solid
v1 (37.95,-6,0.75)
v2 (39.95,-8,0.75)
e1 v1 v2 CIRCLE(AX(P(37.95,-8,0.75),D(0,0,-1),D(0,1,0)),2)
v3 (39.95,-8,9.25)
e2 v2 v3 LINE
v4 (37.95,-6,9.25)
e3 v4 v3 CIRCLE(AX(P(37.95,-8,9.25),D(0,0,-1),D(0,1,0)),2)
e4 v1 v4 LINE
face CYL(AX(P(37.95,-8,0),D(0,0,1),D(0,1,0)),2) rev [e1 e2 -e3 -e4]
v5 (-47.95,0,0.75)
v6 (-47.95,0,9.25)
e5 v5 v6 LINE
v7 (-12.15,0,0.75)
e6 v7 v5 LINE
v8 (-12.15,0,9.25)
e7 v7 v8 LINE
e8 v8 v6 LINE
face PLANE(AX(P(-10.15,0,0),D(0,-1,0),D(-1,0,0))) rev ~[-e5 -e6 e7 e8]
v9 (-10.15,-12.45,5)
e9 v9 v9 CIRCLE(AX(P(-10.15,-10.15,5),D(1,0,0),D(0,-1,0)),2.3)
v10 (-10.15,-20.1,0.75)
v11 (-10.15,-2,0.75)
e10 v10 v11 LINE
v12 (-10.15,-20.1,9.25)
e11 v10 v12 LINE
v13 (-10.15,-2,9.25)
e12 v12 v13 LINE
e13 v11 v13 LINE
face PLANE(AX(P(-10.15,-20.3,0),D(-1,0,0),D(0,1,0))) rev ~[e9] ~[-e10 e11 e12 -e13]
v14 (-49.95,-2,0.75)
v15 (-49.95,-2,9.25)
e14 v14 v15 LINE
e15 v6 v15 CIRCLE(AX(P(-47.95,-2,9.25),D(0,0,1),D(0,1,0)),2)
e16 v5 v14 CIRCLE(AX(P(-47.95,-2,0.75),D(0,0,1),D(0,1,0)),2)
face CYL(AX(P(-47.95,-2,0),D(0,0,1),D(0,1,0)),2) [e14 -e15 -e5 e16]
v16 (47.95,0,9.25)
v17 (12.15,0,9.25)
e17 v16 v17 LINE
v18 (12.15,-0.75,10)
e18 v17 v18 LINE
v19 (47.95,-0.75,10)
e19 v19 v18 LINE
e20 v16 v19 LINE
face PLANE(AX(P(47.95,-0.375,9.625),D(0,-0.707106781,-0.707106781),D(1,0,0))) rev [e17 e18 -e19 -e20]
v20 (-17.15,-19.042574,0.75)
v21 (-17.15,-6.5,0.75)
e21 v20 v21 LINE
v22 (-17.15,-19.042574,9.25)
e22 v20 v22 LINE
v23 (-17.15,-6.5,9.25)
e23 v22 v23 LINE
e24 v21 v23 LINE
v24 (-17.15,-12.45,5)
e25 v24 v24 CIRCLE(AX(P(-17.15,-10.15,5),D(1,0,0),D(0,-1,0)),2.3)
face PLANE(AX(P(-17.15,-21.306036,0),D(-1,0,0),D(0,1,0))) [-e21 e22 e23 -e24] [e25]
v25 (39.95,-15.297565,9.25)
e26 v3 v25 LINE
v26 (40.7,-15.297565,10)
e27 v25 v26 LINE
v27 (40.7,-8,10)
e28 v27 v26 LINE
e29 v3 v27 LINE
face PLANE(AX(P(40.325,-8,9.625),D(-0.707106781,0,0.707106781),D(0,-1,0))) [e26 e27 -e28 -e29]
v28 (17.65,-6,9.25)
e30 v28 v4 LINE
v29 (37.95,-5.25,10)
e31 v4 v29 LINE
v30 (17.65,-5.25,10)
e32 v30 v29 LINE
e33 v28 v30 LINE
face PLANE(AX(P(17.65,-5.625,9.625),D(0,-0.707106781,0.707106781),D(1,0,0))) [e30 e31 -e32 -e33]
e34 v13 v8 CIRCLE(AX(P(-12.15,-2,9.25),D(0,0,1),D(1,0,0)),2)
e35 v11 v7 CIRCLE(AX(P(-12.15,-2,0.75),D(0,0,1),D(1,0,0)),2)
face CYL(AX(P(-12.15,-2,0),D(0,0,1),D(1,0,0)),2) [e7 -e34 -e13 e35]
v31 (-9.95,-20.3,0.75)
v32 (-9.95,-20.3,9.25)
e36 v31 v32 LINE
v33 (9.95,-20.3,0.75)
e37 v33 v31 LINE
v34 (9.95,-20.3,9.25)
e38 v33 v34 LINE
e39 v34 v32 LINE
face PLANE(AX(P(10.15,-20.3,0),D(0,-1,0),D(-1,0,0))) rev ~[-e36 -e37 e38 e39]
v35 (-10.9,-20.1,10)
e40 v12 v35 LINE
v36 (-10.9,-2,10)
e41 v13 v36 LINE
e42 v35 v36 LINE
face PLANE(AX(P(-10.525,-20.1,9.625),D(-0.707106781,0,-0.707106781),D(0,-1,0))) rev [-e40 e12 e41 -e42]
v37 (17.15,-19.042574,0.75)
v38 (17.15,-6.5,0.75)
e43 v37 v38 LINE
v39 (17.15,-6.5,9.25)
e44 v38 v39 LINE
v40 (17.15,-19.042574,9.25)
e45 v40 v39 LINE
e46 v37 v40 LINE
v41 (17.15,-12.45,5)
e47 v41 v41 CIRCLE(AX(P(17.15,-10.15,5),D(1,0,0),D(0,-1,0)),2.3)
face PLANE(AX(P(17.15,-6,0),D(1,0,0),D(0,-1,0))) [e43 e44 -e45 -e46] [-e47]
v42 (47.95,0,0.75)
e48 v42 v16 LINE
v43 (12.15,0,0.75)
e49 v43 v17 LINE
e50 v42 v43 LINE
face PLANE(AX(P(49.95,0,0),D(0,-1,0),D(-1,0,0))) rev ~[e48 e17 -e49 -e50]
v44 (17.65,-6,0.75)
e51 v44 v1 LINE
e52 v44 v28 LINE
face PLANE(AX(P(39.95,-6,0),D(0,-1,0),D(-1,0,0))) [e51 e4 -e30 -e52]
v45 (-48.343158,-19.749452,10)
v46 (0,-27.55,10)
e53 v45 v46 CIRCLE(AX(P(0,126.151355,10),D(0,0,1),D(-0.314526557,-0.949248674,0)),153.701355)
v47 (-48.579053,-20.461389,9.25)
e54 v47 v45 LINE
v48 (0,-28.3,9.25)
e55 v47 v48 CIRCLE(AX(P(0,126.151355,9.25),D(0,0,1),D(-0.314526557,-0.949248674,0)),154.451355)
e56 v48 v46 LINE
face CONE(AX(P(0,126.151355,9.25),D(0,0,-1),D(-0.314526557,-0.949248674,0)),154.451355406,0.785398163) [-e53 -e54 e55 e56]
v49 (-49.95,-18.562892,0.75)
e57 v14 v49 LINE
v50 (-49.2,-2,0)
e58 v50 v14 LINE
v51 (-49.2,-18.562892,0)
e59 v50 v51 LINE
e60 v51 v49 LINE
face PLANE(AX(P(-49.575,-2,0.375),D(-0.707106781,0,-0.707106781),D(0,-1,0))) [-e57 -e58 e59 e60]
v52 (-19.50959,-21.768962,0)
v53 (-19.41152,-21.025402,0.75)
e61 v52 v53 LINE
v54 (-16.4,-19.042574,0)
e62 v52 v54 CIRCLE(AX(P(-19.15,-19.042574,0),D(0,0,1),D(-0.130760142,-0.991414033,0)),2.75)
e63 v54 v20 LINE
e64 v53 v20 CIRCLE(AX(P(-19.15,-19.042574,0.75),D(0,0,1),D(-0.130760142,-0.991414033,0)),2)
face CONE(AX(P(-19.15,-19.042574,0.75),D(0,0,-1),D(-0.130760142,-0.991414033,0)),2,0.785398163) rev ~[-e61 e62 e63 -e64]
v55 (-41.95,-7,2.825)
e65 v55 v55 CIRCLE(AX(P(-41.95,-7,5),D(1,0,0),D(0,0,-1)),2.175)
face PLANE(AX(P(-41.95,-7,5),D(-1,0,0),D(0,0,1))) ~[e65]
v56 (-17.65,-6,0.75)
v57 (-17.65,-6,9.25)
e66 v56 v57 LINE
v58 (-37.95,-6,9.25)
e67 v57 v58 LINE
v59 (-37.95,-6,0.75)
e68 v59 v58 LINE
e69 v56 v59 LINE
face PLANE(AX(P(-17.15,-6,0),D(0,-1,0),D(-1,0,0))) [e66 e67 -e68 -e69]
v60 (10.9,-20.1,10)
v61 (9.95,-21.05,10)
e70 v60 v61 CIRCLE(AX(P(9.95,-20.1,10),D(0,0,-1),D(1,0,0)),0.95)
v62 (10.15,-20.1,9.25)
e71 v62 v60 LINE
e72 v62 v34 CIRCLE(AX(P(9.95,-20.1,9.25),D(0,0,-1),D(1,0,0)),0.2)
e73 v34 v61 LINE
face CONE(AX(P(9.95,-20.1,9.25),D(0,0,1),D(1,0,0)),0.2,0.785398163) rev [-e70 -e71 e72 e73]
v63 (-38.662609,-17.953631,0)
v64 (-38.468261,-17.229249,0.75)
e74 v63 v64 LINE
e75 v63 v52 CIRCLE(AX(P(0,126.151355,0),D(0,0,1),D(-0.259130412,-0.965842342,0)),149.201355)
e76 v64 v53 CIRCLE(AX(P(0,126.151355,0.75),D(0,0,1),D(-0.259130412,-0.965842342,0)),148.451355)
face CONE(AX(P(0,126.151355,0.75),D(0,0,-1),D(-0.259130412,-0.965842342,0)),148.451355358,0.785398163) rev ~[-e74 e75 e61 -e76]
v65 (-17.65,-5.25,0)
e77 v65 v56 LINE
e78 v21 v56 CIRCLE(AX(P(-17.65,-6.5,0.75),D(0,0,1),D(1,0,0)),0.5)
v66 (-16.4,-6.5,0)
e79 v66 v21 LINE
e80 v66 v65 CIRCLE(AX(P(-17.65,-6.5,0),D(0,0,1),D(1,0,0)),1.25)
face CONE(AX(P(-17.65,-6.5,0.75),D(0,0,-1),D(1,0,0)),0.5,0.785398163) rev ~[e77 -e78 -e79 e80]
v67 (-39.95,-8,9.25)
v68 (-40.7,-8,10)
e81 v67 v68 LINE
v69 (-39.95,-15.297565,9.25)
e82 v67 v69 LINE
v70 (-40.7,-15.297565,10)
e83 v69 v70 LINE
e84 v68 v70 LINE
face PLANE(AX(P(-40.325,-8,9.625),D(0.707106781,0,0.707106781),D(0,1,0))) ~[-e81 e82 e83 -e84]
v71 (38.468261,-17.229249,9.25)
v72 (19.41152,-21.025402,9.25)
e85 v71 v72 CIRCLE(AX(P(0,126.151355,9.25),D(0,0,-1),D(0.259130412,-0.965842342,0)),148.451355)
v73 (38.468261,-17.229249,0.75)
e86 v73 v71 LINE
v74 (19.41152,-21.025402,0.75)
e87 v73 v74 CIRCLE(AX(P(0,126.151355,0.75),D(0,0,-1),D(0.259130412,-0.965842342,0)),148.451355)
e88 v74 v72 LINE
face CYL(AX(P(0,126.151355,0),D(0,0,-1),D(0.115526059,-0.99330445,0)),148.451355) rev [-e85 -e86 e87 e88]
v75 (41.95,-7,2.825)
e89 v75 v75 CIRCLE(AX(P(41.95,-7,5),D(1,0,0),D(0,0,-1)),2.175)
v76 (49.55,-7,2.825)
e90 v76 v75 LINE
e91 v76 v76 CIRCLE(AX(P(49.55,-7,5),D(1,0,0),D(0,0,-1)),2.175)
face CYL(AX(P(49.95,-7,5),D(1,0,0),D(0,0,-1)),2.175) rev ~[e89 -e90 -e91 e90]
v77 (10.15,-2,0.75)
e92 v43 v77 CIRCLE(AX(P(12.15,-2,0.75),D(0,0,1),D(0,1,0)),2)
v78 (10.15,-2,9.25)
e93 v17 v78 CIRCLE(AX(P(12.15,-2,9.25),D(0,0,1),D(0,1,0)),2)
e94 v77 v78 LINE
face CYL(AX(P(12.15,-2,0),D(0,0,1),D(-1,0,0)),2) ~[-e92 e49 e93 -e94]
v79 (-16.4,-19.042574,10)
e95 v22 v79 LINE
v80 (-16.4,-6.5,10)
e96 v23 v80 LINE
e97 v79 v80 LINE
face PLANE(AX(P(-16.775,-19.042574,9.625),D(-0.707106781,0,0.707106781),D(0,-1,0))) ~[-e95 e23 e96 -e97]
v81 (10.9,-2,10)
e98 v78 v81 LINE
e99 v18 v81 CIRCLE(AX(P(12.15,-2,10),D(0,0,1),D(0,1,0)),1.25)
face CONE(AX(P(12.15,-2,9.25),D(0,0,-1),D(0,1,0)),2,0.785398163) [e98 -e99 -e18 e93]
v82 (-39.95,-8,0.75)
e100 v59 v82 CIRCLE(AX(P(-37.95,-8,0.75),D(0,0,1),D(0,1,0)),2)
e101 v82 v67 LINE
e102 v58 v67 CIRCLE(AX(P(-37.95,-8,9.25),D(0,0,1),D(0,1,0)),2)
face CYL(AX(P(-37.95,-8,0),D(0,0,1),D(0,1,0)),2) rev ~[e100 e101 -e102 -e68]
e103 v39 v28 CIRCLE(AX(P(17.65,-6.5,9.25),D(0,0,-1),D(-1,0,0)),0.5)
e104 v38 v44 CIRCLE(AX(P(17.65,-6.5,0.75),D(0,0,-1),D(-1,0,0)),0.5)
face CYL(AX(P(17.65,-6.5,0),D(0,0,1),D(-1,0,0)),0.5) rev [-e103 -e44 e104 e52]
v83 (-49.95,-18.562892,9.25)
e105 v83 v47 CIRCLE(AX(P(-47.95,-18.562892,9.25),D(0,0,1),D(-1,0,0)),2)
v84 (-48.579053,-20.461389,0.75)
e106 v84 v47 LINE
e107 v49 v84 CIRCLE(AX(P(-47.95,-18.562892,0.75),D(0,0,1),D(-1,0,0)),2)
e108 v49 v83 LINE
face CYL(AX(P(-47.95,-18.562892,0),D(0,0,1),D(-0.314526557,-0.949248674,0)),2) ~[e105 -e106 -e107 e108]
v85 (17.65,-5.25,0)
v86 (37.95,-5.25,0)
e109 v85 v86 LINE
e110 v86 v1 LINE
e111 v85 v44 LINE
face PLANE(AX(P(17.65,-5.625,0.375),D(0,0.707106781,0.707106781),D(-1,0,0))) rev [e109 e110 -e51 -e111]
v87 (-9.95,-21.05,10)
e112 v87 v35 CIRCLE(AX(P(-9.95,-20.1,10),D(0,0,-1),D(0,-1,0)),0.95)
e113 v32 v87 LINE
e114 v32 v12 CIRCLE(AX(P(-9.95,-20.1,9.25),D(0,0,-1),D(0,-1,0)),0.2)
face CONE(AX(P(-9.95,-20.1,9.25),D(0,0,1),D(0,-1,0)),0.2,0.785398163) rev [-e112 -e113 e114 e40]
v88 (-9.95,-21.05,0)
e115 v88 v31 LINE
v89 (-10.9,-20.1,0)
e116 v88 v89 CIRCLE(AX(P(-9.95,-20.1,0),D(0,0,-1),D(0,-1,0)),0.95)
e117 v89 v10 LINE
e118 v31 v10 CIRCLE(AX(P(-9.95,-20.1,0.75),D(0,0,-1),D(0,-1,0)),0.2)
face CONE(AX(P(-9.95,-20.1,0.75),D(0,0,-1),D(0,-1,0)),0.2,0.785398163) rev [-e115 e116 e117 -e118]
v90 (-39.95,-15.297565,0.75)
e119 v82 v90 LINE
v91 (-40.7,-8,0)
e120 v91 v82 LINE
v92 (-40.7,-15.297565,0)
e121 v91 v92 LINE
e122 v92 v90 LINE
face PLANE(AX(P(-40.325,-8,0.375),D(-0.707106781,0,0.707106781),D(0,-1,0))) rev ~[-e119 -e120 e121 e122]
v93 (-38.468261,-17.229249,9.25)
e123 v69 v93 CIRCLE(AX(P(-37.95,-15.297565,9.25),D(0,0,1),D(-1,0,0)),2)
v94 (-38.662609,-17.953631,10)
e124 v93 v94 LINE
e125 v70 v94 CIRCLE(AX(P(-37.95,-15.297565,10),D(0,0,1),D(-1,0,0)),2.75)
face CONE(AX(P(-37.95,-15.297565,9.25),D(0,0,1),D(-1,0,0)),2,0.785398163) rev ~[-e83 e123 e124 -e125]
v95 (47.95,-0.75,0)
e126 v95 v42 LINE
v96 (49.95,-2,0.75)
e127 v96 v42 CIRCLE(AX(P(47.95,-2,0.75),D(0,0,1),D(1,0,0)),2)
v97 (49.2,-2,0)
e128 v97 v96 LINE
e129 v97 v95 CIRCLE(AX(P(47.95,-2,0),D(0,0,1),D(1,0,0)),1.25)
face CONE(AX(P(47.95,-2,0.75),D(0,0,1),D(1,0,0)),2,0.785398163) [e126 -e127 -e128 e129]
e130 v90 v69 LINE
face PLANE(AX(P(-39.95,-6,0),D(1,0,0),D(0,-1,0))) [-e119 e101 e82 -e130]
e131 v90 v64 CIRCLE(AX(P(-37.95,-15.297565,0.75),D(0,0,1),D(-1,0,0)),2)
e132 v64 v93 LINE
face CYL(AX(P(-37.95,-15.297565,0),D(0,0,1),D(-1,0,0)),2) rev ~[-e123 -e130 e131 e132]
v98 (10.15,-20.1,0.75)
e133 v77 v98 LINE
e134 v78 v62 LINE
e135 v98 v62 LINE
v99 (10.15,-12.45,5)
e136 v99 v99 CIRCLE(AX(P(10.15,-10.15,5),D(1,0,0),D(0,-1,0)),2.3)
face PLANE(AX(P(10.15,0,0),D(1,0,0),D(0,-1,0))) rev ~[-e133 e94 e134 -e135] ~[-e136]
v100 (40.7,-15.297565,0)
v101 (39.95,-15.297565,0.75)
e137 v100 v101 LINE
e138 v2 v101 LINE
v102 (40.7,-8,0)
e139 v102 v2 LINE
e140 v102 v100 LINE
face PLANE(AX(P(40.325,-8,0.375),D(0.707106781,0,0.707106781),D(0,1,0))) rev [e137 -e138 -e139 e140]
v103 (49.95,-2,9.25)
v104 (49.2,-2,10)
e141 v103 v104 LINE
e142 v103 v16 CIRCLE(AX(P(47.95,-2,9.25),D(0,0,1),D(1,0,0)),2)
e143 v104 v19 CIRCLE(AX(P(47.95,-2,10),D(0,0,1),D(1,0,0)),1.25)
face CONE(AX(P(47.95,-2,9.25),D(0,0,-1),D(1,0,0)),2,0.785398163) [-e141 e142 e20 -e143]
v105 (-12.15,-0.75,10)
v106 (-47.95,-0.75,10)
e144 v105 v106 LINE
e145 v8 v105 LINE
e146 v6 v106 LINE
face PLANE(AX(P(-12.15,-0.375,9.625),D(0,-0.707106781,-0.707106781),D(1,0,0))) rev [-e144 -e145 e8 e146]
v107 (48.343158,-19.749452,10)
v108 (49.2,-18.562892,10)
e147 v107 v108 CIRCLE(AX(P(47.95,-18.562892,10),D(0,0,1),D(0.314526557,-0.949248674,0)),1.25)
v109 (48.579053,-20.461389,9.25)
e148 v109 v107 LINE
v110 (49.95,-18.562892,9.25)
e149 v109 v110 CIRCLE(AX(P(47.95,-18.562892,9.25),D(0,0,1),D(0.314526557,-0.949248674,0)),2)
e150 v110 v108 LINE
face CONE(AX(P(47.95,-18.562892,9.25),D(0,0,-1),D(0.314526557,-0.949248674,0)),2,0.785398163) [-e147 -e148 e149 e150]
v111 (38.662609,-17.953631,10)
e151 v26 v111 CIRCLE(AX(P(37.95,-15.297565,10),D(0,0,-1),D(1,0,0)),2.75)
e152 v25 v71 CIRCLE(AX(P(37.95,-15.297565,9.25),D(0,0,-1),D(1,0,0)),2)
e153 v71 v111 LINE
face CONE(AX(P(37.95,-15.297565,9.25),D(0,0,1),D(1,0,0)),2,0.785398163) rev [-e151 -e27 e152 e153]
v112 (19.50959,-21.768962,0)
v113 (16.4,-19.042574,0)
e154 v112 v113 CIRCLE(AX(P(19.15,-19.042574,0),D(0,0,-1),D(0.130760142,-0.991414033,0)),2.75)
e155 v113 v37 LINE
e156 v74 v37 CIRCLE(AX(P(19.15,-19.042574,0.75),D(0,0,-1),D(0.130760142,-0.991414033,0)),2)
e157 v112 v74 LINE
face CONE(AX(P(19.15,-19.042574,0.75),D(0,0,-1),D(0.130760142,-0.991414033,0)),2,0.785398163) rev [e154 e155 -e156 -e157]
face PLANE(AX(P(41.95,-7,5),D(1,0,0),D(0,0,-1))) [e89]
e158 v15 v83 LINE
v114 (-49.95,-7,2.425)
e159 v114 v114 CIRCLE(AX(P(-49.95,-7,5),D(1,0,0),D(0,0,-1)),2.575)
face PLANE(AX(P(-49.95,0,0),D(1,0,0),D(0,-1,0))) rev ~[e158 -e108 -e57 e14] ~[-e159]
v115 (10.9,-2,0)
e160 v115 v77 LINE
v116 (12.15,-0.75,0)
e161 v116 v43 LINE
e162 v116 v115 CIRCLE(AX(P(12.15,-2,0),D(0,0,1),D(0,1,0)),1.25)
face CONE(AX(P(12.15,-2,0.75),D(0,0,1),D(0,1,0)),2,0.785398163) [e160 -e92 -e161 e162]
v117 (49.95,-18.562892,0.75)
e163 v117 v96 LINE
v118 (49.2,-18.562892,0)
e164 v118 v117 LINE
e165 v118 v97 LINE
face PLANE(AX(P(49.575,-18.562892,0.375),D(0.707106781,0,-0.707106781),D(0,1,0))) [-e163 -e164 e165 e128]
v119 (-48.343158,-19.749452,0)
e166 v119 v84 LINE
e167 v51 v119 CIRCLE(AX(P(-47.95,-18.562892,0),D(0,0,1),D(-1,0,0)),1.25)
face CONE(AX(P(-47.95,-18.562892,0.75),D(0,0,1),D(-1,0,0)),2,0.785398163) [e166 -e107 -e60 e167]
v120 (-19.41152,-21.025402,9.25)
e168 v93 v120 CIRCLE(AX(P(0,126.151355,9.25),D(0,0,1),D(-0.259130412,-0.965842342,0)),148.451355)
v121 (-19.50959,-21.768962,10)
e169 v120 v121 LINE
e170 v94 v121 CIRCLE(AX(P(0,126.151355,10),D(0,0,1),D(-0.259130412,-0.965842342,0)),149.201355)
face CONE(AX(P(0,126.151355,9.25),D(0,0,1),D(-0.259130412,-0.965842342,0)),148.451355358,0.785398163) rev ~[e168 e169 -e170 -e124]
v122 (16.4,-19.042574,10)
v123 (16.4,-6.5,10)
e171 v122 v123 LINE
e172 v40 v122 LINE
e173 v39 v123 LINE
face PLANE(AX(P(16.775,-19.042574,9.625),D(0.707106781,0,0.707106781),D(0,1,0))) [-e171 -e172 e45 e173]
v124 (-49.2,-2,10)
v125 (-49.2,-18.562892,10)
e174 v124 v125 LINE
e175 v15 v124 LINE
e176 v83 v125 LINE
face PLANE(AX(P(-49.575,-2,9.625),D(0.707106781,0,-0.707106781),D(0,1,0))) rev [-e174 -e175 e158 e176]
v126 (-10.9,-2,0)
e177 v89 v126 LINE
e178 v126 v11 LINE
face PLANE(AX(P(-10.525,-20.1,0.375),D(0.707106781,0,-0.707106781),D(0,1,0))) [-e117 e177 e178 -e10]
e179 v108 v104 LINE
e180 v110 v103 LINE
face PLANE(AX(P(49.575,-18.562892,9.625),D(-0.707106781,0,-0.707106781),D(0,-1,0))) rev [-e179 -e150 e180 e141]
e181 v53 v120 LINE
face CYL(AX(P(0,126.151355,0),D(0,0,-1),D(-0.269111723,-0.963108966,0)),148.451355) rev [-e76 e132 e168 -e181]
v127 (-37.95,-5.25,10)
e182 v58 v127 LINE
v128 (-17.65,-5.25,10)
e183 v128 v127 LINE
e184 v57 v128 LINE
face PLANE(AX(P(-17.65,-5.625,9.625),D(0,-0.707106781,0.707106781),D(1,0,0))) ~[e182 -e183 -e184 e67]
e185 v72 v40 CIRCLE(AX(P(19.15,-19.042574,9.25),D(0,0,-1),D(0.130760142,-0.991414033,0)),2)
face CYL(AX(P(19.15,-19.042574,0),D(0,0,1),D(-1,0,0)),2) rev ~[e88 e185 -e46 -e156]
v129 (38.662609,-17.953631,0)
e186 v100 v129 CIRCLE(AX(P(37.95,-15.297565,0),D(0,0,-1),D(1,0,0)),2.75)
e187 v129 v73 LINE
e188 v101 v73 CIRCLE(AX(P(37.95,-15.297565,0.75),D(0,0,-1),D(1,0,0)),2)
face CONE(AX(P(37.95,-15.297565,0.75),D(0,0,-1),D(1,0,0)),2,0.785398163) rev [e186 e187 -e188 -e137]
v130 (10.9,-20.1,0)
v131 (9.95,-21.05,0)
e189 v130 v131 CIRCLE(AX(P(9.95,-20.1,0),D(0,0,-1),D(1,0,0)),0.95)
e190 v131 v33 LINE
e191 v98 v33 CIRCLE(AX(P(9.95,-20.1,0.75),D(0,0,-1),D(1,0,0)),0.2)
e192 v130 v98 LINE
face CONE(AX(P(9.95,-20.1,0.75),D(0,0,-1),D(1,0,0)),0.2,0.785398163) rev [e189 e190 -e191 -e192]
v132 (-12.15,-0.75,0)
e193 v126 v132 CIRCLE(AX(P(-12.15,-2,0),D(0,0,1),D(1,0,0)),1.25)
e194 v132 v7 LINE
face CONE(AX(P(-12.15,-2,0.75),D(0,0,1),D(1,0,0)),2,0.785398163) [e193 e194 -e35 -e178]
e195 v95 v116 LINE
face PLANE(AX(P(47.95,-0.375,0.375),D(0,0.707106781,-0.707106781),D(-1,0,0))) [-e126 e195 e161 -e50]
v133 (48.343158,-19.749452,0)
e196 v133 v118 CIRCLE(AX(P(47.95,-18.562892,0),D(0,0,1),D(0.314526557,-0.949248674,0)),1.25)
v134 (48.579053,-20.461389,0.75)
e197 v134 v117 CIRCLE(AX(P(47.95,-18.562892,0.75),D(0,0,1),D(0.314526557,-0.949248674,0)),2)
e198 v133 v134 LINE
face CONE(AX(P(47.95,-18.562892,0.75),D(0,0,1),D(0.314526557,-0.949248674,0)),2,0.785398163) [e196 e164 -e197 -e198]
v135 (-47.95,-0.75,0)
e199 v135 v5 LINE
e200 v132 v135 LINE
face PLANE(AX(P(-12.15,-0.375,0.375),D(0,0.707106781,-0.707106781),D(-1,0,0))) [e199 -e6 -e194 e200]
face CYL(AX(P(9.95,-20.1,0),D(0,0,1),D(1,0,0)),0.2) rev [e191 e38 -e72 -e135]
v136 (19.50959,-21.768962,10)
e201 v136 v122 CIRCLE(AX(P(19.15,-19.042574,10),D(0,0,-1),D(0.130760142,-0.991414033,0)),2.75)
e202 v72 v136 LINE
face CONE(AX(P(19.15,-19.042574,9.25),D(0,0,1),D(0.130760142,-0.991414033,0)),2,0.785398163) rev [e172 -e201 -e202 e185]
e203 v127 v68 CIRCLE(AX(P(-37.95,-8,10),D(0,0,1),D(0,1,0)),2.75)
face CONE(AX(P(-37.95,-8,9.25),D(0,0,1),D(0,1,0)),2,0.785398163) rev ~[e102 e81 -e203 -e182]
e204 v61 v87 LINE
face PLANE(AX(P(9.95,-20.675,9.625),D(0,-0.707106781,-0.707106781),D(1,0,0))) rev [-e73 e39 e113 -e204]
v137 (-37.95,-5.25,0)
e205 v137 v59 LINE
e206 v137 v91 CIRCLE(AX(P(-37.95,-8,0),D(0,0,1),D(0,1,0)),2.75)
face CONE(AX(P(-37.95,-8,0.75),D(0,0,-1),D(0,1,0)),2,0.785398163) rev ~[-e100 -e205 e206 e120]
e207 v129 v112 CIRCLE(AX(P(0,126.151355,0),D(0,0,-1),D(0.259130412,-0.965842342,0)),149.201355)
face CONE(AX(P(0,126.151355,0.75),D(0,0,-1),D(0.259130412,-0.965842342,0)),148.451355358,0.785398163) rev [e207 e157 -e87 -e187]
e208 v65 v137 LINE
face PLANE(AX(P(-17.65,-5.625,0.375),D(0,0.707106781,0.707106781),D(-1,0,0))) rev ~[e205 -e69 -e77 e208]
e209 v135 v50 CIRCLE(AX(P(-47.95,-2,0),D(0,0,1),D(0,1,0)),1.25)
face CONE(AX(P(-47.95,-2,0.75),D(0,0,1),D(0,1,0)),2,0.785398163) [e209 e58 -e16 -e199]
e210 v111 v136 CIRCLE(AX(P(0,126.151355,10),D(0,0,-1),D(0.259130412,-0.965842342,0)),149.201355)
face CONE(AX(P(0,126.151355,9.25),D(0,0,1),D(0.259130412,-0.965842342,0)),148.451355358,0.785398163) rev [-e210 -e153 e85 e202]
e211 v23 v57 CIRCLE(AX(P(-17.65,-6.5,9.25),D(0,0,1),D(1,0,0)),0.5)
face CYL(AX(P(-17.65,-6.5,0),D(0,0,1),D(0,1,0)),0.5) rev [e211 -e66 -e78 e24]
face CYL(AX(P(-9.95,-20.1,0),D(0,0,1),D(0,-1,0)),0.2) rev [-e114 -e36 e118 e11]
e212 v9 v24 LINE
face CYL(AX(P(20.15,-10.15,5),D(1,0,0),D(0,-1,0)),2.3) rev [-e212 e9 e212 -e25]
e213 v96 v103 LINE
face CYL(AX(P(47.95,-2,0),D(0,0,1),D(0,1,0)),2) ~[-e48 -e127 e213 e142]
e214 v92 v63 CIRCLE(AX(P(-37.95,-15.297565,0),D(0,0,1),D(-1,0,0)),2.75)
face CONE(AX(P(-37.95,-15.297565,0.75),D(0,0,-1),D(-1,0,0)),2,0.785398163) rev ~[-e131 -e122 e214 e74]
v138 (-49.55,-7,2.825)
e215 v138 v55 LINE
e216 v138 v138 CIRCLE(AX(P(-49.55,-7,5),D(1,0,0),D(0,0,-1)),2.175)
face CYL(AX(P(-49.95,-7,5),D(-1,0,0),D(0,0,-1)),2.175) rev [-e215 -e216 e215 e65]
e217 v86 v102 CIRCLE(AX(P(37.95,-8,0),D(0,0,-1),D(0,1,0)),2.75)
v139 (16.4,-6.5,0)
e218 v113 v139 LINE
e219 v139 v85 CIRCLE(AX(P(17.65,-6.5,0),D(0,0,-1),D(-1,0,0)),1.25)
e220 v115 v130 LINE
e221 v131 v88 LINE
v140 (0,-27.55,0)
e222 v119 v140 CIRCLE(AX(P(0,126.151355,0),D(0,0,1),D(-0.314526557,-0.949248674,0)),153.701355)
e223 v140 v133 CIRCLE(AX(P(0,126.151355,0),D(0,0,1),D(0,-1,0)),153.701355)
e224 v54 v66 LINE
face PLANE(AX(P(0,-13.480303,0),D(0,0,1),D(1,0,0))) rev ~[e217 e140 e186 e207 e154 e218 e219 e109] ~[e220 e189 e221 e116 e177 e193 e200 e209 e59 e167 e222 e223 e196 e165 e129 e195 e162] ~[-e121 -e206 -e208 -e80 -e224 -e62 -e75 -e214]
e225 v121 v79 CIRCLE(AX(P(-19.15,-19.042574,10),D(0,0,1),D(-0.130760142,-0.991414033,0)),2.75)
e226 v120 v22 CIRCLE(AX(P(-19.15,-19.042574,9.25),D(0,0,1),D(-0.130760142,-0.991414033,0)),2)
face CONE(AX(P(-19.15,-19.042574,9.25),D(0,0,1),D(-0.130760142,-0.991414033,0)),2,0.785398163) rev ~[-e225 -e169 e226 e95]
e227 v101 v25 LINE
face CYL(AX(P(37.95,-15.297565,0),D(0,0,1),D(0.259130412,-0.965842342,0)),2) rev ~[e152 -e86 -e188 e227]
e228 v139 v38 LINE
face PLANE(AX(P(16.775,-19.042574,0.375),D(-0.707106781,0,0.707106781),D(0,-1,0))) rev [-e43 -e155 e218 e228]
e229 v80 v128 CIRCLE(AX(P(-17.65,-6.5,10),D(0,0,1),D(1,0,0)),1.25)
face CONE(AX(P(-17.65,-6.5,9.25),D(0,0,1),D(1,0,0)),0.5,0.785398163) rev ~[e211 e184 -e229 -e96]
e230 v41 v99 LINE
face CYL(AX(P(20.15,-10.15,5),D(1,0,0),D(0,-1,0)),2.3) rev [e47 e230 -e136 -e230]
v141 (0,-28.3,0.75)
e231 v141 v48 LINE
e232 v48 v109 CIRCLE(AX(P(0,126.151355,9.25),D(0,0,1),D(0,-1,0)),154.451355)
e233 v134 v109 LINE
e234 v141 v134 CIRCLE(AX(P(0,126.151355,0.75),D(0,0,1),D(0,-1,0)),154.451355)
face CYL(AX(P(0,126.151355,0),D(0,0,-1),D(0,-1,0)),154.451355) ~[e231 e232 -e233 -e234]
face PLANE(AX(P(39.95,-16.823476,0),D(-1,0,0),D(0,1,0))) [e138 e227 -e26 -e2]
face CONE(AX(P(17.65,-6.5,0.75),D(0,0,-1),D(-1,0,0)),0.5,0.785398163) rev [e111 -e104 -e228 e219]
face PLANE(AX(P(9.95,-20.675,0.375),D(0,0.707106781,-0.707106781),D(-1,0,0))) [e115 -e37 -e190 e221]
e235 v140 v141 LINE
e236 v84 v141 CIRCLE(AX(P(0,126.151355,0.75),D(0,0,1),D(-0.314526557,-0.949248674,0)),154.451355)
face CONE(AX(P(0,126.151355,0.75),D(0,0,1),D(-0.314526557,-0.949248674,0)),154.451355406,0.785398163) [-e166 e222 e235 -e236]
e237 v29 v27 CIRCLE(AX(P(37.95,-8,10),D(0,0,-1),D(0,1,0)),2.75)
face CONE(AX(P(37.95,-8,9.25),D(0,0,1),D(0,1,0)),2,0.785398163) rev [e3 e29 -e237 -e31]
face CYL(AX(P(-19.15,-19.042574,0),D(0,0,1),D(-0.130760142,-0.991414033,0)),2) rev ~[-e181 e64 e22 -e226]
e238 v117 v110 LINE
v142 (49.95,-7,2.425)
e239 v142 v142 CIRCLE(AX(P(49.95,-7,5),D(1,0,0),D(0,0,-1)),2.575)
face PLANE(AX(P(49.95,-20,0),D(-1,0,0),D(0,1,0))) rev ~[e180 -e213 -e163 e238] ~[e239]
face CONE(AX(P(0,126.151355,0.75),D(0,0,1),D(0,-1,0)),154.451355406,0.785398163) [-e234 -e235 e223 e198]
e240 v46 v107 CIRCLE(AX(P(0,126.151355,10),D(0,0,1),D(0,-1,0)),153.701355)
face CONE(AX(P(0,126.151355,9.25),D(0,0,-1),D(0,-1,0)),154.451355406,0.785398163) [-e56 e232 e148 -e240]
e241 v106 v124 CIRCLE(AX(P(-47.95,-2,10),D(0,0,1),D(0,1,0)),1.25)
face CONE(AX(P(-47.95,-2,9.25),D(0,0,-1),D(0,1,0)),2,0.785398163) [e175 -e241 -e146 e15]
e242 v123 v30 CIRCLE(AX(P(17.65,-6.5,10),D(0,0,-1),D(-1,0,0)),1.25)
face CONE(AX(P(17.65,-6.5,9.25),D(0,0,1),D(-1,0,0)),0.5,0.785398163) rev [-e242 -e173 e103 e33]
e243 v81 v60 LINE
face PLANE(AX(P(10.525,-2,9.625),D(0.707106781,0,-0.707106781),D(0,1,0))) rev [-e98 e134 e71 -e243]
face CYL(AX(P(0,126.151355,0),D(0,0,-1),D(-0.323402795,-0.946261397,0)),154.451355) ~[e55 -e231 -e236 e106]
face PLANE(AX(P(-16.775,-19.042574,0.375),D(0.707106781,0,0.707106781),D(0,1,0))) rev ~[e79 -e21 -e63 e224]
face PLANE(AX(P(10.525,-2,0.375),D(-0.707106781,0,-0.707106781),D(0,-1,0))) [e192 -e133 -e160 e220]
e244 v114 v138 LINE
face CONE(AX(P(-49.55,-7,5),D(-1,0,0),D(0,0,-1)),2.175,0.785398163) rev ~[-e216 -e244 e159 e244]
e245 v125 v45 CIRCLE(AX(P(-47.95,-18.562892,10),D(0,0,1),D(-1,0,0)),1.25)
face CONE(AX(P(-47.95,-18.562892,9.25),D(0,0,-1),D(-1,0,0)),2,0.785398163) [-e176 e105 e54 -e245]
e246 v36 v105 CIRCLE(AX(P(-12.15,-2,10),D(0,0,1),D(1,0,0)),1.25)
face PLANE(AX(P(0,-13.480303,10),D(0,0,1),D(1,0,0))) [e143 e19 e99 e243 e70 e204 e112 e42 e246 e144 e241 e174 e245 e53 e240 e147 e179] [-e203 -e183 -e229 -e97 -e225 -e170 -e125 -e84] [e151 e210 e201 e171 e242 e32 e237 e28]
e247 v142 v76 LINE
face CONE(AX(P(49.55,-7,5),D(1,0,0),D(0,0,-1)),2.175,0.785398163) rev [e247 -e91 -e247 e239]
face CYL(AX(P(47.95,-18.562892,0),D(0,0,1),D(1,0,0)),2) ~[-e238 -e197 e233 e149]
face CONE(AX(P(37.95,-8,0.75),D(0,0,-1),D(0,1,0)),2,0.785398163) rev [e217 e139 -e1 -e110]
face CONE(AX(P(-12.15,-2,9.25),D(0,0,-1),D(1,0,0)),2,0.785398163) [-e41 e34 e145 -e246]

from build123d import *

# Parameters (mm, degrees)
AUFSATZ_LINEAR_AUSTRAGEN1_DEPTH      = 10
SKIZZE2_R                            = 2.175
SCHNITT_LINEAR_AUSTRAGEN1_DEPTH      = 8
SCHNITT_LINEAR_AUSTRAGEN2_DEPTH      = 30
SCHNITT_LINEAR_AUSTRAGEN2_DEPTH_BACK = 10
SKIZZE3_R                            = 2.3
VERRUNDUNG1_R                        = 2
VERRUNDUNG2_R                        = 0.2
VERRUNDUNG3_R                        = 0.5
FASE1_SIZE                           = 0.75
FASE2_SIZE                           = 0.4


with BuildPart() as part:
    # Skizze1 → Aufsatz-Linear austragen1 (new body)
    with BuildSketch(Plane.XY):
        with BuildLine():
            Line((10.15, 0), (10.15, -20.3))
            Line((10.15, -20.3), (-10.15, -20.3))
            Line((-10.15, -20.3), (-10.15, 0))
            Line((-10.15, 0), (-49.95, 0))
            Line((-49.95, 0), (-49.95, -20))
            ThreePointArc((-49.95, -20), (-25.317447047, -26.210871087), (0, -28.3))
            ThreePointArc((0, -28.3), (25.317447047, -26.210871087), (49.95, -20))
            Line((49.95, -20), (49.95, 0))
            Line((49.95, 0), (10.15, 0))
        make_face()
        with BuildLine():
            Line((17.15, -6), (17.15, -21.30603648))
            ThreePointArc((17.15, -21.30603648), (28.637839253, -19.511539955), (39.95, -16.823476023))
            Line((39.95, -16.823476023), (39.95, -6))
            Line((39.95, -6), (17.15, -6))
        make_face(mode=Mode.SUBTRACT)
        with BuildLine():
            Line((-17.15, -6), (-39.95, -6))
            Line((-39.95, -6), (-39.95, -16.823476023))
            ThreePointArc((-39.95, -16.823476023), (-28.637839253, -19.511539955), (-17.15, -21.30603648))
            Line((-17.15, -21.30603648), (-17.15, -6))
        make_face(mode=Mode.SUBTRACT)
    extrude(amount=AUFSATZ_LINEAR_AUSTRAGEN1_DEPTH)

    # Skizze2 → Schnitt-Linear austragen1 (cut)
    with BuildSketch(Plane(origin=(49.95, 0, 0), x_dir=(0, 0, -1), z_dir=(1, 0, 0))):
        with Locations((-5, -7)):
            Circle(SKIZZE2_R)
    schnitt_linear_austragen1 = extrude(amount=-SCHNITT_LINEAR_AUSTRAGEN1_DEPTH, mode=Mode.SUBTRACT)

    # Spiegeln1: Schnitt-Linear austragen1 across plane
    add(schnitt_linear_austragen1.mirror(Plane(origin=(0, 0, 0), x_dir=(0, 0, 1), z_dir=(1, 0, 0))), mode=Mode.SUBTRACT)

    # Skizze3 → Schnitt-Linear austragen2 (cut, two sides: drawn at the far end of the back side and taken through both)
    with BuildSketch(Plane.ZY.offset(-10.15).offset(-SCHNITT_LINEAR_AUSTRAGEN2_DEPTH_BACK)):
        with Locations(Location((5, -10.15, 0), (0, 0, 270))):
            Circle(SKIZZE3_R)
    extrude(amount=SCHNITT_LINEAR_AUSTRAGEN2_DEPTH + SCHNITT_LINEAR_AUSTRAGEN2_DEPTH_BACK, mode=Mode.SUBTRACT)

    # Verrundung1
    verrundung1_edges = [part.edges().sort_by_distance(p)[0] for p in [
        (49.95, 0, 5),
        (49.95, -20, 5),
        (-49.95, -20, 5),
        (-49.95, 0, 5),
        (-10.15, 0, 5),
        (10.15, 0, 5),
        (39.95, -16.823476023, 5),
        (39.95, -6, 5),
        (17.15, -21.30603648, 5),
        (-17.15, -21.30603648, 5),
        (-39.95, -6, 5),
        (-39.95, -16.823476023, 5),
    ]]
    fillet(verrundung1_edges, radius=VERRUNDUNG1_R)

    # Verrundung2
    verrundung2_edges = [part.edges().sort_by_distance(p)[0] for p in [
        (-10.15, -20.3, 5),
        (10.15, -20.3, 5),
    ]]
    fillet(verrundung2_edges, radius=VERRUNDUNG2_R)

    # Verrundung3
    verrundung3_edges = [part.edges().sort_by_distance(p)[0] for p in [
        (17.15, -6, 5),
        (-17.15, -6, 5),
    ]]
    fillet(verrundung3_edges, radius=VERRUNDUNG3_R)

    # Fase1
    fase1_edges = [part.edges().sort_by_distance(p)[0] for p in [
        (-17.831485792, -20.546408723, 0),
        (-17.831485792, -20.546408723, 10),
        (-39.536902903, -16.514831798, 0),
        (-39.536902903, -16.514831798, 10),
        (-39.364213562, -6.585786438, 0),
        (-39.364213562, -6.585786438, 10),
        (39.364213562, -6.585786438, 0),
        (39.364213562, -6.585786438, 10),
        (39.536902903, -16.514831798, 0),
        (39.536902903, -16.514831798, 10),
        (17.831485792, -20.546408723, 0),
        (17.831485792, -20.546408723, 10),
        (-10.15, -11.05, 0),
        (-10.15, -11.05, 10),
        (0, -20.3, 0),
        (0, -20.3, 10),
        (-10.091421356, -20.241421356, 0),
        (-10.091421356, -20.241421356, 10),
        (10.091421356, -20.241421356, 0),
        (10.091421356, -20.241421356, 10),
        (-27.8, -6, 10),
        (-27.8, -6, 0),
        (17.15, -12.771286766, 10),
        (17.15, -12.771286766, 0),
        (-17.296446609, -6.146446609, 0),
        (-17.296446609, -6.146446609, 10),
        (17.296446609, -6.146446609, 0),
        (17.296446609, -6.146446609, 10),
        (30.05, 0, 0),
        (30.05, 0, 10),
        (49.95, -10.281445763, 0),
        (0, -28.3, 0),
        (-49.95, -10.281445763, 0),
        (-30.05, 0, 0),
        (10.15, -11.05, 0),
        (29.00206817, -19.439458054, 0),
        (39.95, -11.648782352, 0),
        (27.8, -6, 0),
        (-29.00206817, -19.439458054, 0),
        (-17.15, -12.771286766, 0),
        (-39.95, -11.648782352, 0),
        (49.571435511, -19.733765937, 0),
        (-49.571435511, -19.733765937, 0),
        (-49.364213562, -0.585786438, 0),
        (-10.735786438, -0.585786438, 0),
        (10.735786438, -0.585786438, 0),
        (49.364213562, -0.585786438, 0),
        (49.95, -10.281445763, 10),
        (39.95, -11.648782352, 10),
        (29.00206817, -19.439458054, 10),
        (27.8, -6, 10),
        (10.15, -11.05, 10),
        (-30.05, 0, 10),
        (-49.95, -10.281445763, 10),
        (0, -28.3, 10),
        (-17.15, -12.771286766, 10),
        (-29.00206817, -19.439458054, 10),
        (-39.95, -11.648782352, 10),
        (49.571435511, -19.733765937, 10),
        (-49.571435511, -19.733765937, 10),
        (-49.364213562, -0.585786438, 10),
        (-10.735786438, -0.585786438, 10),
        (10.735786438, -0.585786438, 10),
        (49.364213562, -0.585786438, 10),
    ]]
    chamfer(fase1_edges, length=FASE1_SIZE)

    # Fase2
    fase2_edges = [part.edges().sort_by_distance(p)[0] for p in [
        (49.95, -7, 7.175),
        (-49.95, -7, 7.175),
    ]]
    chamfer(fase2_edges, length=FASE2_SIZE)


solid = part.part
